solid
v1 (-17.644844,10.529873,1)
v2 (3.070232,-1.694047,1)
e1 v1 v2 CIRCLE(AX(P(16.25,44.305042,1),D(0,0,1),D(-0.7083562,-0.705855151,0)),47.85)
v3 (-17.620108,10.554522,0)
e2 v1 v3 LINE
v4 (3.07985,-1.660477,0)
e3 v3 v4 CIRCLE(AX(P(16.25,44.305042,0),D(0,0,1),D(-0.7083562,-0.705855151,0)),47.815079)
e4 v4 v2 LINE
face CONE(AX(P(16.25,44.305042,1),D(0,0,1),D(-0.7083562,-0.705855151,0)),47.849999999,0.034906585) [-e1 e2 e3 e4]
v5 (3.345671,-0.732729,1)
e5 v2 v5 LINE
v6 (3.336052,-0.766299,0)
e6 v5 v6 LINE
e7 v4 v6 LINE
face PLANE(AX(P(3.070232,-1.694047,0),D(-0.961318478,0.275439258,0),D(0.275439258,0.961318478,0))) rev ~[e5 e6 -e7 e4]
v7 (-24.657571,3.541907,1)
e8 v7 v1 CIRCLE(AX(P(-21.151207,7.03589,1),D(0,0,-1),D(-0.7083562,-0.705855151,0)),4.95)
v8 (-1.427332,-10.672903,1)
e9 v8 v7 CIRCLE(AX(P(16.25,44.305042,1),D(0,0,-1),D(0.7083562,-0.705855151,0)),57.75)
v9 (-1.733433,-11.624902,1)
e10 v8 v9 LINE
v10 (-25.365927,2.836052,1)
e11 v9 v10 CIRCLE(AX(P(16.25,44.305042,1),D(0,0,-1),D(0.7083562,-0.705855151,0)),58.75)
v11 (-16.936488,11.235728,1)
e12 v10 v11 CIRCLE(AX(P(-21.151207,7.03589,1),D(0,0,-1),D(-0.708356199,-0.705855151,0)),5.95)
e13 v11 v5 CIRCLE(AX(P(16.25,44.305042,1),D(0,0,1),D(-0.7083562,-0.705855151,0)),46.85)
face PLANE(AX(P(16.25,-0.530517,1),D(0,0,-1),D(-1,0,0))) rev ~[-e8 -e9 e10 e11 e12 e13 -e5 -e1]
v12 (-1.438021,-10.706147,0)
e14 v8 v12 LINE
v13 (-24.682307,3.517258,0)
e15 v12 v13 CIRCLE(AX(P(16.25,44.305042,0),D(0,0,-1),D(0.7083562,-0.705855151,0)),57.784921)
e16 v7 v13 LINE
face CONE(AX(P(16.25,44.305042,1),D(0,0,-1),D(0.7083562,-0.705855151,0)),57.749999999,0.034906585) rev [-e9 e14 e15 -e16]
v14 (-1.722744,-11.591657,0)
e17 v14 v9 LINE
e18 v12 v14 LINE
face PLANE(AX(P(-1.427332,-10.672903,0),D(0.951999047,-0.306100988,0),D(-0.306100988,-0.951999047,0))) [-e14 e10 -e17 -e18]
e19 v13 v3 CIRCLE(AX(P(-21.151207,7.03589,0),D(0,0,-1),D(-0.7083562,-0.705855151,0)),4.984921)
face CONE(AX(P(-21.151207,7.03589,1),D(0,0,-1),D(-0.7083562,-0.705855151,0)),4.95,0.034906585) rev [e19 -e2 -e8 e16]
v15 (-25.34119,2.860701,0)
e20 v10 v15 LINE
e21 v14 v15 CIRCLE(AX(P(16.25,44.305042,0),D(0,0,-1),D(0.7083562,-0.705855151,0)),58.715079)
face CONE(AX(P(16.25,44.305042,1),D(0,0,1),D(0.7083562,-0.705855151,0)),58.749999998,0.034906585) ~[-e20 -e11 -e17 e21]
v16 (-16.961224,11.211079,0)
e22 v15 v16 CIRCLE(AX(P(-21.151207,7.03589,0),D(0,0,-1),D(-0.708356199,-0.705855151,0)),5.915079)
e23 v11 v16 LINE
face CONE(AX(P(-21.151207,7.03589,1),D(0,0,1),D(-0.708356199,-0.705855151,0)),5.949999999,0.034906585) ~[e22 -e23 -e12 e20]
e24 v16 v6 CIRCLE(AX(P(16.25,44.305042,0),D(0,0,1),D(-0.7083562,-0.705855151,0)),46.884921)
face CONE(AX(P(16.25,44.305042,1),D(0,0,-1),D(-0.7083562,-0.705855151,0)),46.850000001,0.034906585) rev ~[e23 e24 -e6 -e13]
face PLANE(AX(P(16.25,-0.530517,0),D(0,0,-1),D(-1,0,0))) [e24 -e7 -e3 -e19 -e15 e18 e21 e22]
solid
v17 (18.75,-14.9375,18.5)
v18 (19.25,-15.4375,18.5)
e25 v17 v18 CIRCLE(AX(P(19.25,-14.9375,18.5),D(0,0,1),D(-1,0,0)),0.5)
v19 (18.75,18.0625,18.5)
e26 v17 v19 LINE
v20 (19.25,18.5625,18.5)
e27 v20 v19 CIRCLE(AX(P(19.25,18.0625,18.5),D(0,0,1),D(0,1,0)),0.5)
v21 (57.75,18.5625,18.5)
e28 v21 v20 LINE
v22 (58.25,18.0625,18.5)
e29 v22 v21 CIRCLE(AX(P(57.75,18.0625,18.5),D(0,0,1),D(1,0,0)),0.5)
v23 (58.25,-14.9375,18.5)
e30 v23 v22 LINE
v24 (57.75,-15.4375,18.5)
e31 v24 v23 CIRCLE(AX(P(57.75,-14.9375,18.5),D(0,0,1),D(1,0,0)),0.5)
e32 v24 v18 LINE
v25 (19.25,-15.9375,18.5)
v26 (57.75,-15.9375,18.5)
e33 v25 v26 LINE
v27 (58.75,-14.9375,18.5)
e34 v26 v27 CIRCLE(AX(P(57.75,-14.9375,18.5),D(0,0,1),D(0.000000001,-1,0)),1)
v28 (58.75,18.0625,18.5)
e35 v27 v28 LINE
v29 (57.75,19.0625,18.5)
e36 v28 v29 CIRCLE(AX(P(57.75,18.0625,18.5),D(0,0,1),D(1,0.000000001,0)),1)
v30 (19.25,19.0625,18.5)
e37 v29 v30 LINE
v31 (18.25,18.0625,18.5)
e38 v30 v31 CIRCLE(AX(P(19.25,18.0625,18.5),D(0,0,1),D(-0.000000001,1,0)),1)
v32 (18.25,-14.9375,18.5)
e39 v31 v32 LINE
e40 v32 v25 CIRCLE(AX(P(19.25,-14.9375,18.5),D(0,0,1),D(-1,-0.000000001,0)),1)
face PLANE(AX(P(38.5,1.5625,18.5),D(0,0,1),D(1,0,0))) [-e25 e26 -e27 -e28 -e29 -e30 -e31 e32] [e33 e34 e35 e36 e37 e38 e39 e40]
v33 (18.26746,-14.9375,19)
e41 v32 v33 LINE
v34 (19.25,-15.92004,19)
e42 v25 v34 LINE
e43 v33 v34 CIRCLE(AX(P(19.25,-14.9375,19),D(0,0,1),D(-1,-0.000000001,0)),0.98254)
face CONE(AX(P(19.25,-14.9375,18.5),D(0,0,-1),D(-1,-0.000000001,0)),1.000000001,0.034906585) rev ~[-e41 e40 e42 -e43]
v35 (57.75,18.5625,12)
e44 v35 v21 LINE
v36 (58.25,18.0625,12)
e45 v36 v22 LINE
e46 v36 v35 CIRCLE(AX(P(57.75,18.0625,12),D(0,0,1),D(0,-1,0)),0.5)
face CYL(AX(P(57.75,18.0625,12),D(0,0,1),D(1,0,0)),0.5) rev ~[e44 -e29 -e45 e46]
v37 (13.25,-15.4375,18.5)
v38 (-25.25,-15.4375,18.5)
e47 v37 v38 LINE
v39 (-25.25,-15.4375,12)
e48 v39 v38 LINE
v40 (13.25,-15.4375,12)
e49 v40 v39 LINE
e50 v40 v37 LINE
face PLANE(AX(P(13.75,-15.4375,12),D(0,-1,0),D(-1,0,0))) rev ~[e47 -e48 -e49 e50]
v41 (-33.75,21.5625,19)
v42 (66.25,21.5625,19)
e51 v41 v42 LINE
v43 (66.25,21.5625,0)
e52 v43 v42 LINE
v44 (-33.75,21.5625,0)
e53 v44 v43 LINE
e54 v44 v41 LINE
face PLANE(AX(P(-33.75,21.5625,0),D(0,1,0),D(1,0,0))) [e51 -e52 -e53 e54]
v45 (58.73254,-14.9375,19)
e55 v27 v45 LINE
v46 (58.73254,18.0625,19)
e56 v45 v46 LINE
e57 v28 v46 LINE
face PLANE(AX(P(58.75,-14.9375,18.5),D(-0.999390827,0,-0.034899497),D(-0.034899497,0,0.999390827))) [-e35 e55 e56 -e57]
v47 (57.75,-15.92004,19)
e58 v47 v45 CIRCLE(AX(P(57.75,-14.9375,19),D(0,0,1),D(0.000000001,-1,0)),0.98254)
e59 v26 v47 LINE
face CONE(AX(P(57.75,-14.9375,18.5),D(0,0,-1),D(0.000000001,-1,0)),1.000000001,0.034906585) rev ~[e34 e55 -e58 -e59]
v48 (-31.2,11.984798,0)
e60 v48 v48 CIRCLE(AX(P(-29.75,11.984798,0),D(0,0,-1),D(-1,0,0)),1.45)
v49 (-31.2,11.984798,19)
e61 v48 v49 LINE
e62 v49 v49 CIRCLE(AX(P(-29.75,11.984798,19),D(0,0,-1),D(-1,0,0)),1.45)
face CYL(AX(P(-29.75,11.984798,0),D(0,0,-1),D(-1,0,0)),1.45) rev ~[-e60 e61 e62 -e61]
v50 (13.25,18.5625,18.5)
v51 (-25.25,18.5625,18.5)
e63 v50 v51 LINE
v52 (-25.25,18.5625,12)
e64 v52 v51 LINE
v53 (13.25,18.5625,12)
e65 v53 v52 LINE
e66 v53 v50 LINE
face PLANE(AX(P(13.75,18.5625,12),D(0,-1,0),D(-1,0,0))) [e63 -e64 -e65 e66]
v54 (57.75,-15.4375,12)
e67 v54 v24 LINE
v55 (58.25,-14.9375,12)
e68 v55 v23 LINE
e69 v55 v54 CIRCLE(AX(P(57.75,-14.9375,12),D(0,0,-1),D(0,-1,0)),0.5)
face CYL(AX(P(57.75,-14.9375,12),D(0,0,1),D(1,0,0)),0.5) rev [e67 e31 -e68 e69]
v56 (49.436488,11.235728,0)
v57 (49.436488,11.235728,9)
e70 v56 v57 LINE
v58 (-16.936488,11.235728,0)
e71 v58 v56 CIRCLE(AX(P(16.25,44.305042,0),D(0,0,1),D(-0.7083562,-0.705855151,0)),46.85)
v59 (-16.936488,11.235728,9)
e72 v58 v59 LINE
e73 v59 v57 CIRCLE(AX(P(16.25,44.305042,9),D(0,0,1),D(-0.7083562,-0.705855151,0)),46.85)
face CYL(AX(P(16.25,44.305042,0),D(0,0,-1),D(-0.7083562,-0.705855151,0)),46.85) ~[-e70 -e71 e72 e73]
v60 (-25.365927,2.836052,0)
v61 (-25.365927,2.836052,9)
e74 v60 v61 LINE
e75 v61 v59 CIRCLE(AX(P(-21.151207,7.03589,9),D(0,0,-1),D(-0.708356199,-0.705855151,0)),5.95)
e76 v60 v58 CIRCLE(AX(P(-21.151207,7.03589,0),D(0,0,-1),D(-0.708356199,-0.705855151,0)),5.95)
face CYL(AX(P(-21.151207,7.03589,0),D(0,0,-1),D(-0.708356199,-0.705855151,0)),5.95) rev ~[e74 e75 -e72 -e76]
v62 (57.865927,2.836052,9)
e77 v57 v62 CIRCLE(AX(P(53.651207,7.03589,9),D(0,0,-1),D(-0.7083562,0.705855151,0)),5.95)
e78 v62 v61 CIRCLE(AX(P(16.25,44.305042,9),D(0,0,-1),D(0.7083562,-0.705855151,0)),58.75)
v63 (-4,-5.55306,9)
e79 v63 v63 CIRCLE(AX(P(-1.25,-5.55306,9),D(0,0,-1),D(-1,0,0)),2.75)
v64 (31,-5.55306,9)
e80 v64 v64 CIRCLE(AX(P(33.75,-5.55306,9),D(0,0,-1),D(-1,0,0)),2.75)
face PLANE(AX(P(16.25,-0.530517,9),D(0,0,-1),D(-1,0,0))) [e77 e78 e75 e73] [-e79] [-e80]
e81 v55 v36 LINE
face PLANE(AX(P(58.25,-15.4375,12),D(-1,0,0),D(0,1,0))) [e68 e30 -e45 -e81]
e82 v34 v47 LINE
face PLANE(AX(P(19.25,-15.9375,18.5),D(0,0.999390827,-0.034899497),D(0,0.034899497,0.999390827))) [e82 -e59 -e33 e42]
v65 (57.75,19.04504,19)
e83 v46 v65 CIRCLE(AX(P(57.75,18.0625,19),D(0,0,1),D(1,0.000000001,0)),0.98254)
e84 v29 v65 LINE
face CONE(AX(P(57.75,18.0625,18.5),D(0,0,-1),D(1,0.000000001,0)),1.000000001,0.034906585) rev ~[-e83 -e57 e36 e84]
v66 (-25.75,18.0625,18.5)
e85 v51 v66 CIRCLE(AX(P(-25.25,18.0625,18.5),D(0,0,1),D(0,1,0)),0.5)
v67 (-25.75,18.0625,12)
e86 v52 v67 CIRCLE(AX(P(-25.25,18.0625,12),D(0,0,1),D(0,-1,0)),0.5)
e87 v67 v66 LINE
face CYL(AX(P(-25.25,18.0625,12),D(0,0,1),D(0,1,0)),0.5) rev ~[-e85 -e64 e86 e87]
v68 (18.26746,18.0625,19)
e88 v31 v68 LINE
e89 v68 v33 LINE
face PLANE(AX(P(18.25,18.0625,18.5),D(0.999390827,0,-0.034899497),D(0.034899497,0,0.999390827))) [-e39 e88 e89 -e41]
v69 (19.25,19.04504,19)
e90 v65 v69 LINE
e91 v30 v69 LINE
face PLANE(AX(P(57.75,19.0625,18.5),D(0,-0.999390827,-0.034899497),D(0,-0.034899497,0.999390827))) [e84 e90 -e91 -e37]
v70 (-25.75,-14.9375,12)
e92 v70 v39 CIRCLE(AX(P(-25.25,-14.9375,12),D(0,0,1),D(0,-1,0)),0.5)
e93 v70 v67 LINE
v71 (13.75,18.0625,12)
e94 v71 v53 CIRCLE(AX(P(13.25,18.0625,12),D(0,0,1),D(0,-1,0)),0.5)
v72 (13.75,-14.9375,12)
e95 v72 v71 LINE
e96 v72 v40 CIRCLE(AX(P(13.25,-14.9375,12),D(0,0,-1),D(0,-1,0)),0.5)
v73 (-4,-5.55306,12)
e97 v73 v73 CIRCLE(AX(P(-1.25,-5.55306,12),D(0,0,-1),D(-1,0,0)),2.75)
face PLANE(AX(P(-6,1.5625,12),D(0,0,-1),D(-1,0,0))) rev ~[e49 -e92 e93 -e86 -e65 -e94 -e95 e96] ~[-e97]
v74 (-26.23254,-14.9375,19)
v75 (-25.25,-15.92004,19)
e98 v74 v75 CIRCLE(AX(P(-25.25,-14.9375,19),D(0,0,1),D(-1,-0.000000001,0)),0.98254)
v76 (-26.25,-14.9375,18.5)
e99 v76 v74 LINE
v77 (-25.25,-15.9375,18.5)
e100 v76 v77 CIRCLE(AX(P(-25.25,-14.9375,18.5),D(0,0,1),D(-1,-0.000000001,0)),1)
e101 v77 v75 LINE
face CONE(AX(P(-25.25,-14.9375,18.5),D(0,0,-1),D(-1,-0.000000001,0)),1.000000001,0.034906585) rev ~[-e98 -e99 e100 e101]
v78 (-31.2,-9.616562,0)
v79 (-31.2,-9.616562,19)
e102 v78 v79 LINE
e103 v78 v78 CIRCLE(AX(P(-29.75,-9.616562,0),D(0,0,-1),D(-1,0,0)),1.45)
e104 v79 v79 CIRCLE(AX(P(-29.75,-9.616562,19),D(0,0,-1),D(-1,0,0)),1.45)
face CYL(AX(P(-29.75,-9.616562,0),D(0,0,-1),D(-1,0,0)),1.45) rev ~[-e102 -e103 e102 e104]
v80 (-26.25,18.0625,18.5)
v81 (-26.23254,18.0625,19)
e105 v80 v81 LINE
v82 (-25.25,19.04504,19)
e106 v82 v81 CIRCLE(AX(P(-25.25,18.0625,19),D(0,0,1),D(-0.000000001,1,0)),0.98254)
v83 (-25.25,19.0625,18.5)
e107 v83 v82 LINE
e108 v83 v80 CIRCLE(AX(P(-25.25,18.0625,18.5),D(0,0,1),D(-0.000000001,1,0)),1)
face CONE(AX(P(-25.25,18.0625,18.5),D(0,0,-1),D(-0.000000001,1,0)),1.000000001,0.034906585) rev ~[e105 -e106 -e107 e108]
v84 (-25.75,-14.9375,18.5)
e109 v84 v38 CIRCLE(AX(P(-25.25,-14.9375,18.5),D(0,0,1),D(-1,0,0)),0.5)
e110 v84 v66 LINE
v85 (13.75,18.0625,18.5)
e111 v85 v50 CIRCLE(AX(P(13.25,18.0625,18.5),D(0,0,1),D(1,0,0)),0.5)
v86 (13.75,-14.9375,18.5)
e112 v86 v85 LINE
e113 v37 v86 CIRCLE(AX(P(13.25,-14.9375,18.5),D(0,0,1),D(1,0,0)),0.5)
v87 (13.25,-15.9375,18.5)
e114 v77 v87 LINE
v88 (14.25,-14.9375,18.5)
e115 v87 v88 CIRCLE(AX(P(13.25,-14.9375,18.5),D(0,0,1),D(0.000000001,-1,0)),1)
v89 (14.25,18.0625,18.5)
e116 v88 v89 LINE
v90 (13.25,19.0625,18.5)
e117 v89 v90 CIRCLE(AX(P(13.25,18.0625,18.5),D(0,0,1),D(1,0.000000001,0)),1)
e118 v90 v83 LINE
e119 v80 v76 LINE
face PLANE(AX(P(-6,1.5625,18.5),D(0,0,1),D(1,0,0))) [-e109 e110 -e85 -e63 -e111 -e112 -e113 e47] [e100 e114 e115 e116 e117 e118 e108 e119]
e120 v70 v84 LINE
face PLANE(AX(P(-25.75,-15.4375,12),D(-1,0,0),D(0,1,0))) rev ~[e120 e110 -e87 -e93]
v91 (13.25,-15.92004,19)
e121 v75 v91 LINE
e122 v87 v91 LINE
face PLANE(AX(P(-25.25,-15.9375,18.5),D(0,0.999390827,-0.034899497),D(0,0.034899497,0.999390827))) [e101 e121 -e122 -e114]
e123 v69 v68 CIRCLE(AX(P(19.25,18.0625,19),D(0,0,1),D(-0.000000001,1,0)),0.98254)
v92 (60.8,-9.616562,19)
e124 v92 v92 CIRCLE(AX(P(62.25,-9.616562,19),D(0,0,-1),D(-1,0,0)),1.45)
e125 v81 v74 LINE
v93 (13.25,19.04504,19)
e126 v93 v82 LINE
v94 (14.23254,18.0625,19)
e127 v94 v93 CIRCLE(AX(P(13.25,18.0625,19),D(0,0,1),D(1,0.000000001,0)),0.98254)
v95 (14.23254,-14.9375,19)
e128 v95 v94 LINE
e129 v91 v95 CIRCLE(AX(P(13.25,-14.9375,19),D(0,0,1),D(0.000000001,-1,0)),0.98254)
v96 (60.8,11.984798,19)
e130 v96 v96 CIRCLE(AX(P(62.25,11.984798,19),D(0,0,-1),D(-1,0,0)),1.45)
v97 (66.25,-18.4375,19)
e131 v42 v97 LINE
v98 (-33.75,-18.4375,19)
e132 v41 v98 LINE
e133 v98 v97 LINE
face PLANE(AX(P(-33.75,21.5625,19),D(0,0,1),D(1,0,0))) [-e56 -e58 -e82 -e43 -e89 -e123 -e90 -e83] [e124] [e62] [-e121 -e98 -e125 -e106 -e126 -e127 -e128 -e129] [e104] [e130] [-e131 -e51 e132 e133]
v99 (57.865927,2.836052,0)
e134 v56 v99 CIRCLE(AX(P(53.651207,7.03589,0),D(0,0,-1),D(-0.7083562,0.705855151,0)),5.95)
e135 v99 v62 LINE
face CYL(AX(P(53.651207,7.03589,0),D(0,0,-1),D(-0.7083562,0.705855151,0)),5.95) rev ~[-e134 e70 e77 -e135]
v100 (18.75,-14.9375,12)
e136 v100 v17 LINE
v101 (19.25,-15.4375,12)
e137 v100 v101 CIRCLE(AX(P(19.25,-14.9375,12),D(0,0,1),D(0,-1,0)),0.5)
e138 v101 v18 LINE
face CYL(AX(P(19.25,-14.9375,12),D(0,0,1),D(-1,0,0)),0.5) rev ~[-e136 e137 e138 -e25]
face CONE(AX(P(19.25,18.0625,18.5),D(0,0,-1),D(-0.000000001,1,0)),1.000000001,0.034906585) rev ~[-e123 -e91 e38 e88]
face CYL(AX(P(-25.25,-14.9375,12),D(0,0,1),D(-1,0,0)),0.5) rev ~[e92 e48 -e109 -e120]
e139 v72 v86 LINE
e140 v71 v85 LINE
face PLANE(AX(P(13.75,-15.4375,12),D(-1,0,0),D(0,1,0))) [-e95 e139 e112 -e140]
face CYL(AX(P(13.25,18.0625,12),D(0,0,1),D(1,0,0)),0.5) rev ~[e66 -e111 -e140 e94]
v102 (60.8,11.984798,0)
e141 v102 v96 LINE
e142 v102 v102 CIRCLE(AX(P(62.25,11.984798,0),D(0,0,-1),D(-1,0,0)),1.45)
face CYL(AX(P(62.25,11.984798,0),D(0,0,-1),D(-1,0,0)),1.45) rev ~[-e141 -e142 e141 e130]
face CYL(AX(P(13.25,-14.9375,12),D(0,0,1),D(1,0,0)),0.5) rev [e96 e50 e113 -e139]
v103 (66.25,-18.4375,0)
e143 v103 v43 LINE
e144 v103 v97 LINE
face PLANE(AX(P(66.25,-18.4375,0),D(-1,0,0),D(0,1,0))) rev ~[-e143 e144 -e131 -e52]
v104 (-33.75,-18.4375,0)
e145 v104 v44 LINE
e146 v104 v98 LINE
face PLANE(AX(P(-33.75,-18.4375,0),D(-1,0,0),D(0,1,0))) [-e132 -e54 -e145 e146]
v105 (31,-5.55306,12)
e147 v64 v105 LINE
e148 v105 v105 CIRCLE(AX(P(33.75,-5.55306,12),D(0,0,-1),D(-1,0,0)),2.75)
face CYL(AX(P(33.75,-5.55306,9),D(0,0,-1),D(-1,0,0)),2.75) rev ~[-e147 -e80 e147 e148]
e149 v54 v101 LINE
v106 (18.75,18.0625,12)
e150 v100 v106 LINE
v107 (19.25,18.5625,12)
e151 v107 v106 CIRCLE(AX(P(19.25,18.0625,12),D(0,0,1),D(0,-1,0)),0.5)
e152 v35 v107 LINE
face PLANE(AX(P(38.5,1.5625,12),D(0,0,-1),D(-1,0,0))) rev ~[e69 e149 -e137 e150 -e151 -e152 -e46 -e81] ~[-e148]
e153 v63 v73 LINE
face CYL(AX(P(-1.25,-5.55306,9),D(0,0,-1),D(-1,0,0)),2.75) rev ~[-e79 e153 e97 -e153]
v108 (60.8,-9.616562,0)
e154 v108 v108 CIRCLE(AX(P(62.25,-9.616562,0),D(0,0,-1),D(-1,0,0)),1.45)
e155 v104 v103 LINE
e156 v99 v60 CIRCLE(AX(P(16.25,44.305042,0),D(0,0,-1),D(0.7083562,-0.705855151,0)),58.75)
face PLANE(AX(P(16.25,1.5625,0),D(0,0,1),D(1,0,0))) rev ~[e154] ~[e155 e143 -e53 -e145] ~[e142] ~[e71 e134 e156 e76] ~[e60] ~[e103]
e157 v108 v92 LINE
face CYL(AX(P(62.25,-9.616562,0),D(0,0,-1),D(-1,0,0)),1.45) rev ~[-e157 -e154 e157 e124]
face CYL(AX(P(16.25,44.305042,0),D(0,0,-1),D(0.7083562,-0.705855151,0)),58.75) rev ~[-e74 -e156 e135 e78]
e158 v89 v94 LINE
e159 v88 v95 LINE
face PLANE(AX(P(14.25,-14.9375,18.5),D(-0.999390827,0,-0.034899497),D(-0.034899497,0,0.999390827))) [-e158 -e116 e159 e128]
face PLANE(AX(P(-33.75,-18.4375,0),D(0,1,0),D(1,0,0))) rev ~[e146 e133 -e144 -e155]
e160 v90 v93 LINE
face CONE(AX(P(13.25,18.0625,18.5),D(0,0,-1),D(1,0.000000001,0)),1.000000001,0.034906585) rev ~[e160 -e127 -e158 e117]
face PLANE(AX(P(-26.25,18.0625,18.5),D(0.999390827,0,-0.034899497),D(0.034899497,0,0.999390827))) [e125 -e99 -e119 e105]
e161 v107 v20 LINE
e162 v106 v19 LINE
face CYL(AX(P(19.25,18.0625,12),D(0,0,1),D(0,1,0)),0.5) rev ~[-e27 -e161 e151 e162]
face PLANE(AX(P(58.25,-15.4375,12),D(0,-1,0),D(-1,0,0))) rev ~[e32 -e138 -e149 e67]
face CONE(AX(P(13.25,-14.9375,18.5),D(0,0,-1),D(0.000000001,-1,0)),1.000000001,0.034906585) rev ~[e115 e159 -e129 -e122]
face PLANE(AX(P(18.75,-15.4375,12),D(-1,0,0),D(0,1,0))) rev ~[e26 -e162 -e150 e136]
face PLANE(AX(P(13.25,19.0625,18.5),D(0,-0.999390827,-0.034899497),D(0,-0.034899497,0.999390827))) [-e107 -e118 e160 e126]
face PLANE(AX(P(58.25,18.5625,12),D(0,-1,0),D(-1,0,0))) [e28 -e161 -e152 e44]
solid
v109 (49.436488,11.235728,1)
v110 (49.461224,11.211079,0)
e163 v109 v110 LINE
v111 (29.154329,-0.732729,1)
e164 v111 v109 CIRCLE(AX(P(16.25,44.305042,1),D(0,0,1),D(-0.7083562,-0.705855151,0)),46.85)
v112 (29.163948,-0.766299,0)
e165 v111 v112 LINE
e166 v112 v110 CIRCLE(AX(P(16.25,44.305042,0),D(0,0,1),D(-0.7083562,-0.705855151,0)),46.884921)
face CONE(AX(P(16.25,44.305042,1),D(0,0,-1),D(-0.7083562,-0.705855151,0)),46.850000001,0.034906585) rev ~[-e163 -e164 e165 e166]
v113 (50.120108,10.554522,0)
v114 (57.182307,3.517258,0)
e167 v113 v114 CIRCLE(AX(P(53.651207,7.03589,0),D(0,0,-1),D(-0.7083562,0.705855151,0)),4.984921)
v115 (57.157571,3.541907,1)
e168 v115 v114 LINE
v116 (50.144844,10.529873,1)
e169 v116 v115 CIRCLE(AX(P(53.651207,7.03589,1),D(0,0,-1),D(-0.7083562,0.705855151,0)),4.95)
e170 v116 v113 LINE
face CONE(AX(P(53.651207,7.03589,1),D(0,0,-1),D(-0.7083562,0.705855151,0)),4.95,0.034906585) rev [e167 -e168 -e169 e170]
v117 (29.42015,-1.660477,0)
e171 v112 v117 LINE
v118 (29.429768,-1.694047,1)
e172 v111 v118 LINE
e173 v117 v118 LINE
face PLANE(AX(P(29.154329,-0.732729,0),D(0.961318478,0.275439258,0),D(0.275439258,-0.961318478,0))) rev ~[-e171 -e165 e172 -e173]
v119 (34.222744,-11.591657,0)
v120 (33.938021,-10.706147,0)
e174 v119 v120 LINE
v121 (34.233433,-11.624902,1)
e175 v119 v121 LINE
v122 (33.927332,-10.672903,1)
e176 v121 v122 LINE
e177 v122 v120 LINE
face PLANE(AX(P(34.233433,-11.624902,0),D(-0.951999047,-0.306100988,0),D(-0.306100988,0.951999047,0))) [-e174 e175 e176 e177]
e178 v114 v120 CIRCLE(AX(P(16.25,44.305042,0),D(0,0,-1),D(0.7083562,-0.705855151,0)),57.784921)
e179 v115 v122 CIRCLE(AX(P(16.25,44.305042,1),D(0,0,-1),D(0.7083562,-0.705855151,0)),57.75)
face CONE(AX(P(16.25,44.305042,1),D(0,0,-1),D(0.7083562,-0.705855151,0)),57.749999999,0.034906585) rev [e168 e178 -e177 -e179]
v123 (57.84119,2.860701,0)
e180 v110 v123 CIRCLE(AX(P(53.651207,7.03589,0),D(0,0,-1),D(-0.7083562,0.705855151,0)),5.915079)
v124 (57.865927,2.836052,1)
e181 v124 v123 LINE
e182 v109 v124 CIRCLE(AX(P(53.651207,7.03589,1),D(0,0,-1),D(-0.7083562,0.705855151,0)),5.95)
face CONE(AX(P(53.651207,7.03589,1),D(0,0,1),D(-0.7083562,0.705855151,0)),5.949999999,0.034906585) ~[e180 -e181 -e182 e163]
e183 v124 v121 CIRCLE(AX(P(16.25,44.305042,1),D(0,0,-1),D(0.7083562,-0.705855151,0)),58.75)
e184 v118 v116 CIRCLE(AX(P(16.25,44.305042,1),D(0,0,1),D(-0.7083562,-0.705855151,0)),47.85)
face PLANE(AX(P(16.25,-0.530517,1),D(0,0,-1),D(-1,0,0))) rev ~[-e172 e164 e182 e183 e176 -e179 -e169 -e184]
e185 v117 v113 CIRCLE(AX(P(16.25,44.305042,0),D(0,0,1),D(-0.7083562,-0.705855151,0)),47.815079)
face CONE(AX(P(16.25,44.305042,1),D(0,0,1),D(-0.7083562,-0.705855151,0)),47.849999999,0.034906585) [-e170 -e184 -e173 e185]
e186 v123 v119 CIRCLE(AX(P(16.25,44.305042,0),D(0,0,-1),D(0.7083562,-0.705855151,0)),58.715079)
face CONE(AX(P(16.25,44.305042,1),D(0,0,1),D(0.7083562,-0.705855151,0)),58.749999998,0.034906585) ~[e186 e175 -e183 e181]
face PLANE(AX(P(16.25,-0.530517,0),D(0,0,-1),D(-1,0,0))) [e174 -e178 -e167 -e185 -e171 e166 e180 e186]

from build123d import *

# Parameters (mm, degrees)
SKETCH1_W           = 100
SKETCH1_H           = 40
BOSS_EXTRUDE1_DEPTH = 38
CUT_EXTRUDE2_START  = -12
SKETCH2_W           = 39.5
SKETCH2_H           = 34
CUT_EXTRUDE2_DEPTH  = 21
CUT_EXTRUDE4_REACH  = 81.36
SKETCH4_R           = 1.45
SKETCH6_W           = 100
SKETCH6_H           = 19
CUT_EXTRUDE5_DEPTH  = 87.215210375
FILLET1_R           = 0.5
CUT_EXTRUDE6_START  = 6.5
CUT_EXTRUDE6_DEPTH  = 0.5
CUT_EXTRUDE6_TAPER  = 2
CUT_EXTRUDE7_START  = 6.5
CUT_EXTRUDE7_DEPTH  = 0.5
CUT_EXTRUDE7_TAPER  = 2
CUT_EXTRUDE8_DEPTH  = 9
CUT_EXTRUDE9_REACH  = 72.385
SKETCH14_R          = 2.75
BOSS_EXTRUDE2_START = 8
BOSS_EXTRUDE2_DEPTH = 1
BOSS_EXTRUDE2_DRAFT = 2
CUT_EXTRUDE11_START = 9
CUT_EXTRUDE11_DEPTH = 1


with BuildPart() as part:
    # Sketch1 → Boss-Extrude1 (new body)
    with BuildSketch(Plane.XY):
        with Locations((16.25, 1.5625)):
            Rectangle(SKETCH1_W, SKETCH1_H)
    extrude(amount=BOSS_EXTRUDE1_DEPTH)

    # Sketch2 → Cut-Extrude2 (cut)
    with BuildSketch(Plane(origin=(0, 0, 0), x_dir=(-1, 0, 0), z_dir=(0, 0, -1)).offset(CUT_EXTRUDE2_START)):
        with Locations((-38.5, 1.5625)):
            Rectangle(SKETCH2_W, SKETCH2_H)
        with Locations((6, 1.5625)):
            Rectangle(SKETCH2_W, SKETCH2_H)
    extrude(amount=-CUT_EXTRUDE2_DEPTH, mode=Mode.SUBTRACT)

    # Sketch4 → Cut-Extrude4 (cut, up to next)
    with BuildSketch(Plane(origin=(0, 0, 0), x_dir=(-1, 0, 0), z_dir=(0, 0, -1)), mode=Mode.PRIVATE) as cut_extrude4_sk1:
        with Locations((-62.25, 11.98479819)):
            Circle(SKETCH4_R)
    cut_extrude4_tool1 = extrude(cut_extrude4_sk1.sketch, amount=-CUT_EXTRUDE4_REACH, mode=Mode.PRIVATE) & part.part
    # Sketch4 → Cut-Extrude4 (cut, up to next)
    with BuildSketch(Plane(origin=(0, 0, 0), x_dir=(-1, 0, 0), z_dir=(0, 0, -1)), mode=Mode.PRIVATE) as cut_extrude4_sk2:
        with Locations((-62.25, -9.616561755)):
            Circle(SKETCH4_R)
    cut_extrude4_tool2 = extrude(cut_extrude4_sk2.sketch, amount=-CUT_EXTRUDE4_REACH, mode=Mode.PRIVATE) & part.part
    # Sketch4 → Cut-Extrude4 (cut, up to next)
    with BuildSketch(Plane(origin=(0, 0, 0), x_dir=(-1, 0, 0), z_dir=(0, 0, -1)), mode=Mode.PRIVATE) as cut_extrude4_sk3:
        with Locations((29.75, 11.98479819)):
            Circle(SKETCH4_R)
    cut_extrude4_tool3 = extrude(cut_extrude4_sk3.sketch, amount=-CUT_EXTRUDE4_REACH, mode=Mode.PRIVATE) & part.part
    # Sketch4 → Cut-Extrude4 (cut, up to next)
    with BuildSketch(Plane(origin=(0, 0, 0), x_dir=(-1, 0, 0), z_dir=(0, 0, -1)), mode=Mode.PRIVATE) as cut_extrude4_sk4:
        with Locations((29.75, -9.616561755)):
            Circle(SKETCH4_R)
    cut_extrude4_tool4 = extrude(cut_extrude4_sk4.sketch, amount=-CUT_EXTRUDE4_REACH, mode=Mode.PRIVATE) & part.part
    add(cut_extrude4_tool1.solids().sort_by_distance((62.25, 11.984798, 0))[0], mode=Mode.SUBTRACT)
    add(cut_extrude4_tool2.solids().sort_by_distance((62.25, -9.616562, 0))[0], mode=Mode.SUBTRACT)
    add(cut_extrude4_tool3.solids().sort_by_distance((-29.75, 11.984798, 0))[0], mode=Mode.SUBTRACT)
    add(cut_extrude4_tool4.solids().sort_by_distance((-29.75, -9.616562, 0))[0], mode=Mode.SUBTRACT)

    # Sketch6 → Cut-Extrude5 (cut, through all)
    with BuildSketch(Plane(origin=(0, 21.5625, 0), x_dir=(1, 0, 0), z_dir=(0, 1, 0))):
        with Locations((16.25, -28.5)):
            Rectangle(SKETCH6_W, SKETCH6_H)
    extrude(amount=-CUT_EXTRUDE5_DEPTH, mode=Mode.SUBTRACT)

    # Fillet1
    fillet1_edges = [part.edges().sort_by_distance(p)[0] for p in [
        (-25.75, -15.4375, 15.5),
        (13.75, -15.4375, 15.5),
        (-25.75, 18.5625, 15.5),
        (13.75, 18.5625, 15.5),
        (18.75, -15.4375, 15.5),
        (58.25, -15.4375, 15.5),
        (18.75, 18.5625, 15.5),
        (58.25, 18.5625, 15.5),
    ]]
    fillet(fillet1_edges, radius=FILLET1_R)

    # Sketch10 → Cut-Extrude6 (cut)
    with BuildSketch(Plane.XY.offset(12).offset(CUT_EXTRUDE6_START)):
        with BuildLine():
            Line((14.25, -14.9375), (14.25, 18.0625))
            ThreePointArc((14.25, 18.0625), (13.957106781, 18.769606781), (13.25, 19.0625))
            Line((13.25, 19.0625), (-25.25, 19.0625))
            ThreePointArc((-25.25, 19.0625), (-25.957106781, 18.769606781), (-26.25, 18.0625))
            Line((-26.25, 18.0625), (-26.25, -14.9375))
            ThreePointArc((-26.25, -14.9375), (-25.957106781, -15.644606781), (-25.25, -15.9375))
            Line((-25.25, -15.9375), (13.25, -15.9375))
            ThreePointArc((13.25, -15.9375), (13.957106781, -15.644606781), (14.25, -14.9375))
        make_face()
    extrude(amount=CUT_EXTRUDE6_DEPTH, taper=CUT_EXTRUDE6_TAPER, mode=Mode.SUBTRACT)

    # Sketch11 → Cut-Extrude7 (cut)
    with BuildSketch(Plane.XY.offset(12).offset(CUT_EXTRUDE7_START)):
        with BuildLine():
            Line((58.75, -14.9375), (58.75, 18.0625))
            ThreePointArc((58.75, 18.0625), (58.457106781, 18.769606781), (57.75, 19.0625))
            Line((57.75, 19.0625), (19.25, 19.0625))
            ThreePointArc((19.25, 19.0625), (18.542893219, 18.769606781), (18.25, 18.0625))
            Line((18.25, 18.0625), (18.25, -14.9375))
            ThreePointArc((18.25, -14.9375), (18.542893219, -15.644606781), (19.25, -15.9375))
            Line((19.25, -15.9375), (57.75, -15.9375))
            ThreePointArc((57.75, -15.9375), (58.457106781, -15.644606781), (58.75, -14.9375))
        make_face()
    extrude(amount=CUT_EXTRUDE7_DEPTH, taper=CUT_EXTRUDE7_TAPER, mode=Mode.SUBTRACT)

    # Sketch12 → Cut-Extrude8 (cut)
    with BuildSketch(Plane(origin=(0, 0, 0), x_dir=(-1, 0, 0), z_dir=(0, 0, -1))):
        with BuildLine():
            ThreePointArc((-57.865926724, 2.836052), (-16.25, -14.444957865), (25.365926724, 2.836052))
            ThreePointArc((25.365926724, 2.836052), (25.351045487, 11.250609537), (16.93648795, 11.235728299))
            ThreePointArc((16.93648795, 11.235728299), (-16.25, -2.544957865), (-49.43648795, 11.235728299))
            ThreePointArc((-49.43648795, 11.235728299), (-57.851045487, 11.250609537), (-57.865926724, 2.836052))
        make_face()
    extrude(amount=-CUT_EXTRUDE8_DEPTH, mode=Mode.SUBTRACT)

    # Sketch14 → Cut-Extrude9 (cut, up to next)
    with BuildSketch(Plane(origin=(0, 0, 9), x_dir=(-1, 0, 0), z_dir=(0, 0, -1)), mode=Mode.PRIVATE) as cut_extrude9_sk1:
        with Locations((-33.75, -5.553059818)):
            Circle(SKETCH14_R)
    cut_extrude9_tool1 = extrude(cut_extrude9_sk1.sketch, amount=-CUT_EXTRUDE9_REACH, mode=Mode.PRIVATE) & part.part
    # Sketch14 → Cut-Extrude9 (cut, up to next)
    with BuildSketch(Plane(origin=(0, 0, 9), x_dir=(-1, 0, 0), z_dir=(0, 0, -1)), mode=Mode.PRIVATE) as cut_extrude9_sk2:
        with Locations((1.25, -5.553059818)):
            Circle(SKETCH14_R)
    cut_extrude9_tool2 = extrude(cut_extrude9_sk2.sketch, amount=-CUT_EXTRUDE9_REACH, mode=Mode.PRIVATE) & part.part
    add(cut_extrude9_tool1.solids().sort_by_distance((33.75, -5.55306, 9))[0], mode=Mode.SUBTRACT)
    add(cut_extrude9_tool2.solids().sort_by_distance((-1.25, -5.55306, 9))[0], mode=Mode.SUBTRACT)


with BuildPart() as body_2:
    # Sketch15 → Boss-Extrude2 (with draft: the straight prism first)
    with BuildSketch(Plane(origin=(0, 0, 9), x_dir=(-1, 0, 0), z_dir=(0, 0, -1)).offset(BOSS_EXTRUDE2_START)):
        with BuildLine():
            ThreePointArc((-49.43648795, 11.235728299), (-57.851045487, 11.250609537), (-57.865926724, 2.836052))
            ThreePointArc((-57.865926724, 2.836052), (-16.25, -14.444957865), (25.365926724, 2.836052))
            ThreePointArc((25.365926724, 2.836052), (25.351045487, 11.250609537), (16.93648795, 11.235728299))
            ThreePointArc((16.93648795, 11.235728299), (-16.25, -2.544957865), (-49.43648795, 11.235728299))
        make_face()
        with BuildLine():
            ThreePointArc((-50.144844149, 10.529873148), (-57.145190336, 10.542253337), (-57.157570525, 3.541907151))
            ThreePointArc((-57.157570525, 3.541907151), (-16.25, -13.444957865), (24.657570525, 3.541907151))
            ThreePointArc((24.657570525, 3.541907151), (24.645190336, 10.542253337), (17.644844149, 10.529873148))
            ThreePointArc((17.644844149, 10.529873148), (-16.25, -3.544957865), (-50.144844149, 10.529873148))
        make_face(mode=Mode.SUBTRACT)
    extrude(amount=BOSS_EXTRUDE2_DEPTH)
    # Boss-Extrude2: the draft: its side faces are tilted about the plane it starts from
    boss_extrude2_sides = [body_2.faces().sort_by_distance(p)[0] for p in [
        (-25.351045487, 11.250609537, 0.5),
        (16.25, -2.544957865, 0.5),
        (57.851045487, 11.250609537, 0.5),
        (16.25, -14.444957865, 0.5),
        (16.25, -13.444957865, 0.5),
        (57.145190336, 10.542253337, 0.5),
        (16.25, -3.544957865, 0.5),
        (-24.645190336, 10.542253337, 0.5),
    ]]
    draft(boss_extrude2_sides, Plane(origin=(0, 0, 9), x_dir=(-1, 0, 0), z_dir=(0, 0, -1)).offset(BOSS_EXTRUDE2_START), BOSS_EXTRUDE2_DRAFT)

    # Sketch16 → Cut-Extrude11 (cut)
    with BuildSketch(Plane(origin=(0, 0, 9), x_dir=(-1, 0, 0), z_dir=(0, 0, -1)).offset(CUT_EXTRUDE11_START)):
        with BuildLine():
            Line((-29.154329219, -0.73272854), (-29.429768477, -1.694047018))
            ThreePointArc((-29.429768477, -1.694047018), (-16.25, -3.544957865), (-3.070231523, -1.694047018))
            Line((-3.070231523, -1.694047018), (-3.345670781, -0.73272854))
            ThreePointArc((-3.345670781, -0.73272854), (-16.25, -2.544957865), (-29.154329219, -0.73272854))
        make_face()
        with BuildLine():
            Line((1.427332066, -10.672902816), (1.733433054, -11.624901863))
            ThreePointArc((1.733433054, -11.624901863), (-16.25, -14.444957865), (-34.233433054, -11.624901863))
            Line((-34.233433054, -11.624901863), (-33.927332066, -10.672902816))
            ThreePointArc((-33.927332066, -10.672902816), (-16.25, -13.444957865), (1.427332066, -10.672902816))
        make_face()
    extrude(amount=-CUT_EXTRUDE11_DEPTH, mode=Mode.SUBTRACT)


with BuildPart() as cut_extrude11_piece_1:
    # of the separate pieces the step leaves, piece 1, a body of its own (cut_extrude11_pieces)
    add(body_2.part.solids().sort_by_distance((57.865926724, 2.836052, 1))[0])


with BuildPart() as cut_extrude11_piece_2:
    # of the separate pieces the step leaves, piece 2, a body of its own (cut_extrude11_pieces)
    add(body_2.part.solids().sort_by_distance((-25.365926724, 2.836052, 1))[0])


solid = Compound([part.part, cut_extrude11_piece_1.part, cut_extrude11_piece_2.part])
